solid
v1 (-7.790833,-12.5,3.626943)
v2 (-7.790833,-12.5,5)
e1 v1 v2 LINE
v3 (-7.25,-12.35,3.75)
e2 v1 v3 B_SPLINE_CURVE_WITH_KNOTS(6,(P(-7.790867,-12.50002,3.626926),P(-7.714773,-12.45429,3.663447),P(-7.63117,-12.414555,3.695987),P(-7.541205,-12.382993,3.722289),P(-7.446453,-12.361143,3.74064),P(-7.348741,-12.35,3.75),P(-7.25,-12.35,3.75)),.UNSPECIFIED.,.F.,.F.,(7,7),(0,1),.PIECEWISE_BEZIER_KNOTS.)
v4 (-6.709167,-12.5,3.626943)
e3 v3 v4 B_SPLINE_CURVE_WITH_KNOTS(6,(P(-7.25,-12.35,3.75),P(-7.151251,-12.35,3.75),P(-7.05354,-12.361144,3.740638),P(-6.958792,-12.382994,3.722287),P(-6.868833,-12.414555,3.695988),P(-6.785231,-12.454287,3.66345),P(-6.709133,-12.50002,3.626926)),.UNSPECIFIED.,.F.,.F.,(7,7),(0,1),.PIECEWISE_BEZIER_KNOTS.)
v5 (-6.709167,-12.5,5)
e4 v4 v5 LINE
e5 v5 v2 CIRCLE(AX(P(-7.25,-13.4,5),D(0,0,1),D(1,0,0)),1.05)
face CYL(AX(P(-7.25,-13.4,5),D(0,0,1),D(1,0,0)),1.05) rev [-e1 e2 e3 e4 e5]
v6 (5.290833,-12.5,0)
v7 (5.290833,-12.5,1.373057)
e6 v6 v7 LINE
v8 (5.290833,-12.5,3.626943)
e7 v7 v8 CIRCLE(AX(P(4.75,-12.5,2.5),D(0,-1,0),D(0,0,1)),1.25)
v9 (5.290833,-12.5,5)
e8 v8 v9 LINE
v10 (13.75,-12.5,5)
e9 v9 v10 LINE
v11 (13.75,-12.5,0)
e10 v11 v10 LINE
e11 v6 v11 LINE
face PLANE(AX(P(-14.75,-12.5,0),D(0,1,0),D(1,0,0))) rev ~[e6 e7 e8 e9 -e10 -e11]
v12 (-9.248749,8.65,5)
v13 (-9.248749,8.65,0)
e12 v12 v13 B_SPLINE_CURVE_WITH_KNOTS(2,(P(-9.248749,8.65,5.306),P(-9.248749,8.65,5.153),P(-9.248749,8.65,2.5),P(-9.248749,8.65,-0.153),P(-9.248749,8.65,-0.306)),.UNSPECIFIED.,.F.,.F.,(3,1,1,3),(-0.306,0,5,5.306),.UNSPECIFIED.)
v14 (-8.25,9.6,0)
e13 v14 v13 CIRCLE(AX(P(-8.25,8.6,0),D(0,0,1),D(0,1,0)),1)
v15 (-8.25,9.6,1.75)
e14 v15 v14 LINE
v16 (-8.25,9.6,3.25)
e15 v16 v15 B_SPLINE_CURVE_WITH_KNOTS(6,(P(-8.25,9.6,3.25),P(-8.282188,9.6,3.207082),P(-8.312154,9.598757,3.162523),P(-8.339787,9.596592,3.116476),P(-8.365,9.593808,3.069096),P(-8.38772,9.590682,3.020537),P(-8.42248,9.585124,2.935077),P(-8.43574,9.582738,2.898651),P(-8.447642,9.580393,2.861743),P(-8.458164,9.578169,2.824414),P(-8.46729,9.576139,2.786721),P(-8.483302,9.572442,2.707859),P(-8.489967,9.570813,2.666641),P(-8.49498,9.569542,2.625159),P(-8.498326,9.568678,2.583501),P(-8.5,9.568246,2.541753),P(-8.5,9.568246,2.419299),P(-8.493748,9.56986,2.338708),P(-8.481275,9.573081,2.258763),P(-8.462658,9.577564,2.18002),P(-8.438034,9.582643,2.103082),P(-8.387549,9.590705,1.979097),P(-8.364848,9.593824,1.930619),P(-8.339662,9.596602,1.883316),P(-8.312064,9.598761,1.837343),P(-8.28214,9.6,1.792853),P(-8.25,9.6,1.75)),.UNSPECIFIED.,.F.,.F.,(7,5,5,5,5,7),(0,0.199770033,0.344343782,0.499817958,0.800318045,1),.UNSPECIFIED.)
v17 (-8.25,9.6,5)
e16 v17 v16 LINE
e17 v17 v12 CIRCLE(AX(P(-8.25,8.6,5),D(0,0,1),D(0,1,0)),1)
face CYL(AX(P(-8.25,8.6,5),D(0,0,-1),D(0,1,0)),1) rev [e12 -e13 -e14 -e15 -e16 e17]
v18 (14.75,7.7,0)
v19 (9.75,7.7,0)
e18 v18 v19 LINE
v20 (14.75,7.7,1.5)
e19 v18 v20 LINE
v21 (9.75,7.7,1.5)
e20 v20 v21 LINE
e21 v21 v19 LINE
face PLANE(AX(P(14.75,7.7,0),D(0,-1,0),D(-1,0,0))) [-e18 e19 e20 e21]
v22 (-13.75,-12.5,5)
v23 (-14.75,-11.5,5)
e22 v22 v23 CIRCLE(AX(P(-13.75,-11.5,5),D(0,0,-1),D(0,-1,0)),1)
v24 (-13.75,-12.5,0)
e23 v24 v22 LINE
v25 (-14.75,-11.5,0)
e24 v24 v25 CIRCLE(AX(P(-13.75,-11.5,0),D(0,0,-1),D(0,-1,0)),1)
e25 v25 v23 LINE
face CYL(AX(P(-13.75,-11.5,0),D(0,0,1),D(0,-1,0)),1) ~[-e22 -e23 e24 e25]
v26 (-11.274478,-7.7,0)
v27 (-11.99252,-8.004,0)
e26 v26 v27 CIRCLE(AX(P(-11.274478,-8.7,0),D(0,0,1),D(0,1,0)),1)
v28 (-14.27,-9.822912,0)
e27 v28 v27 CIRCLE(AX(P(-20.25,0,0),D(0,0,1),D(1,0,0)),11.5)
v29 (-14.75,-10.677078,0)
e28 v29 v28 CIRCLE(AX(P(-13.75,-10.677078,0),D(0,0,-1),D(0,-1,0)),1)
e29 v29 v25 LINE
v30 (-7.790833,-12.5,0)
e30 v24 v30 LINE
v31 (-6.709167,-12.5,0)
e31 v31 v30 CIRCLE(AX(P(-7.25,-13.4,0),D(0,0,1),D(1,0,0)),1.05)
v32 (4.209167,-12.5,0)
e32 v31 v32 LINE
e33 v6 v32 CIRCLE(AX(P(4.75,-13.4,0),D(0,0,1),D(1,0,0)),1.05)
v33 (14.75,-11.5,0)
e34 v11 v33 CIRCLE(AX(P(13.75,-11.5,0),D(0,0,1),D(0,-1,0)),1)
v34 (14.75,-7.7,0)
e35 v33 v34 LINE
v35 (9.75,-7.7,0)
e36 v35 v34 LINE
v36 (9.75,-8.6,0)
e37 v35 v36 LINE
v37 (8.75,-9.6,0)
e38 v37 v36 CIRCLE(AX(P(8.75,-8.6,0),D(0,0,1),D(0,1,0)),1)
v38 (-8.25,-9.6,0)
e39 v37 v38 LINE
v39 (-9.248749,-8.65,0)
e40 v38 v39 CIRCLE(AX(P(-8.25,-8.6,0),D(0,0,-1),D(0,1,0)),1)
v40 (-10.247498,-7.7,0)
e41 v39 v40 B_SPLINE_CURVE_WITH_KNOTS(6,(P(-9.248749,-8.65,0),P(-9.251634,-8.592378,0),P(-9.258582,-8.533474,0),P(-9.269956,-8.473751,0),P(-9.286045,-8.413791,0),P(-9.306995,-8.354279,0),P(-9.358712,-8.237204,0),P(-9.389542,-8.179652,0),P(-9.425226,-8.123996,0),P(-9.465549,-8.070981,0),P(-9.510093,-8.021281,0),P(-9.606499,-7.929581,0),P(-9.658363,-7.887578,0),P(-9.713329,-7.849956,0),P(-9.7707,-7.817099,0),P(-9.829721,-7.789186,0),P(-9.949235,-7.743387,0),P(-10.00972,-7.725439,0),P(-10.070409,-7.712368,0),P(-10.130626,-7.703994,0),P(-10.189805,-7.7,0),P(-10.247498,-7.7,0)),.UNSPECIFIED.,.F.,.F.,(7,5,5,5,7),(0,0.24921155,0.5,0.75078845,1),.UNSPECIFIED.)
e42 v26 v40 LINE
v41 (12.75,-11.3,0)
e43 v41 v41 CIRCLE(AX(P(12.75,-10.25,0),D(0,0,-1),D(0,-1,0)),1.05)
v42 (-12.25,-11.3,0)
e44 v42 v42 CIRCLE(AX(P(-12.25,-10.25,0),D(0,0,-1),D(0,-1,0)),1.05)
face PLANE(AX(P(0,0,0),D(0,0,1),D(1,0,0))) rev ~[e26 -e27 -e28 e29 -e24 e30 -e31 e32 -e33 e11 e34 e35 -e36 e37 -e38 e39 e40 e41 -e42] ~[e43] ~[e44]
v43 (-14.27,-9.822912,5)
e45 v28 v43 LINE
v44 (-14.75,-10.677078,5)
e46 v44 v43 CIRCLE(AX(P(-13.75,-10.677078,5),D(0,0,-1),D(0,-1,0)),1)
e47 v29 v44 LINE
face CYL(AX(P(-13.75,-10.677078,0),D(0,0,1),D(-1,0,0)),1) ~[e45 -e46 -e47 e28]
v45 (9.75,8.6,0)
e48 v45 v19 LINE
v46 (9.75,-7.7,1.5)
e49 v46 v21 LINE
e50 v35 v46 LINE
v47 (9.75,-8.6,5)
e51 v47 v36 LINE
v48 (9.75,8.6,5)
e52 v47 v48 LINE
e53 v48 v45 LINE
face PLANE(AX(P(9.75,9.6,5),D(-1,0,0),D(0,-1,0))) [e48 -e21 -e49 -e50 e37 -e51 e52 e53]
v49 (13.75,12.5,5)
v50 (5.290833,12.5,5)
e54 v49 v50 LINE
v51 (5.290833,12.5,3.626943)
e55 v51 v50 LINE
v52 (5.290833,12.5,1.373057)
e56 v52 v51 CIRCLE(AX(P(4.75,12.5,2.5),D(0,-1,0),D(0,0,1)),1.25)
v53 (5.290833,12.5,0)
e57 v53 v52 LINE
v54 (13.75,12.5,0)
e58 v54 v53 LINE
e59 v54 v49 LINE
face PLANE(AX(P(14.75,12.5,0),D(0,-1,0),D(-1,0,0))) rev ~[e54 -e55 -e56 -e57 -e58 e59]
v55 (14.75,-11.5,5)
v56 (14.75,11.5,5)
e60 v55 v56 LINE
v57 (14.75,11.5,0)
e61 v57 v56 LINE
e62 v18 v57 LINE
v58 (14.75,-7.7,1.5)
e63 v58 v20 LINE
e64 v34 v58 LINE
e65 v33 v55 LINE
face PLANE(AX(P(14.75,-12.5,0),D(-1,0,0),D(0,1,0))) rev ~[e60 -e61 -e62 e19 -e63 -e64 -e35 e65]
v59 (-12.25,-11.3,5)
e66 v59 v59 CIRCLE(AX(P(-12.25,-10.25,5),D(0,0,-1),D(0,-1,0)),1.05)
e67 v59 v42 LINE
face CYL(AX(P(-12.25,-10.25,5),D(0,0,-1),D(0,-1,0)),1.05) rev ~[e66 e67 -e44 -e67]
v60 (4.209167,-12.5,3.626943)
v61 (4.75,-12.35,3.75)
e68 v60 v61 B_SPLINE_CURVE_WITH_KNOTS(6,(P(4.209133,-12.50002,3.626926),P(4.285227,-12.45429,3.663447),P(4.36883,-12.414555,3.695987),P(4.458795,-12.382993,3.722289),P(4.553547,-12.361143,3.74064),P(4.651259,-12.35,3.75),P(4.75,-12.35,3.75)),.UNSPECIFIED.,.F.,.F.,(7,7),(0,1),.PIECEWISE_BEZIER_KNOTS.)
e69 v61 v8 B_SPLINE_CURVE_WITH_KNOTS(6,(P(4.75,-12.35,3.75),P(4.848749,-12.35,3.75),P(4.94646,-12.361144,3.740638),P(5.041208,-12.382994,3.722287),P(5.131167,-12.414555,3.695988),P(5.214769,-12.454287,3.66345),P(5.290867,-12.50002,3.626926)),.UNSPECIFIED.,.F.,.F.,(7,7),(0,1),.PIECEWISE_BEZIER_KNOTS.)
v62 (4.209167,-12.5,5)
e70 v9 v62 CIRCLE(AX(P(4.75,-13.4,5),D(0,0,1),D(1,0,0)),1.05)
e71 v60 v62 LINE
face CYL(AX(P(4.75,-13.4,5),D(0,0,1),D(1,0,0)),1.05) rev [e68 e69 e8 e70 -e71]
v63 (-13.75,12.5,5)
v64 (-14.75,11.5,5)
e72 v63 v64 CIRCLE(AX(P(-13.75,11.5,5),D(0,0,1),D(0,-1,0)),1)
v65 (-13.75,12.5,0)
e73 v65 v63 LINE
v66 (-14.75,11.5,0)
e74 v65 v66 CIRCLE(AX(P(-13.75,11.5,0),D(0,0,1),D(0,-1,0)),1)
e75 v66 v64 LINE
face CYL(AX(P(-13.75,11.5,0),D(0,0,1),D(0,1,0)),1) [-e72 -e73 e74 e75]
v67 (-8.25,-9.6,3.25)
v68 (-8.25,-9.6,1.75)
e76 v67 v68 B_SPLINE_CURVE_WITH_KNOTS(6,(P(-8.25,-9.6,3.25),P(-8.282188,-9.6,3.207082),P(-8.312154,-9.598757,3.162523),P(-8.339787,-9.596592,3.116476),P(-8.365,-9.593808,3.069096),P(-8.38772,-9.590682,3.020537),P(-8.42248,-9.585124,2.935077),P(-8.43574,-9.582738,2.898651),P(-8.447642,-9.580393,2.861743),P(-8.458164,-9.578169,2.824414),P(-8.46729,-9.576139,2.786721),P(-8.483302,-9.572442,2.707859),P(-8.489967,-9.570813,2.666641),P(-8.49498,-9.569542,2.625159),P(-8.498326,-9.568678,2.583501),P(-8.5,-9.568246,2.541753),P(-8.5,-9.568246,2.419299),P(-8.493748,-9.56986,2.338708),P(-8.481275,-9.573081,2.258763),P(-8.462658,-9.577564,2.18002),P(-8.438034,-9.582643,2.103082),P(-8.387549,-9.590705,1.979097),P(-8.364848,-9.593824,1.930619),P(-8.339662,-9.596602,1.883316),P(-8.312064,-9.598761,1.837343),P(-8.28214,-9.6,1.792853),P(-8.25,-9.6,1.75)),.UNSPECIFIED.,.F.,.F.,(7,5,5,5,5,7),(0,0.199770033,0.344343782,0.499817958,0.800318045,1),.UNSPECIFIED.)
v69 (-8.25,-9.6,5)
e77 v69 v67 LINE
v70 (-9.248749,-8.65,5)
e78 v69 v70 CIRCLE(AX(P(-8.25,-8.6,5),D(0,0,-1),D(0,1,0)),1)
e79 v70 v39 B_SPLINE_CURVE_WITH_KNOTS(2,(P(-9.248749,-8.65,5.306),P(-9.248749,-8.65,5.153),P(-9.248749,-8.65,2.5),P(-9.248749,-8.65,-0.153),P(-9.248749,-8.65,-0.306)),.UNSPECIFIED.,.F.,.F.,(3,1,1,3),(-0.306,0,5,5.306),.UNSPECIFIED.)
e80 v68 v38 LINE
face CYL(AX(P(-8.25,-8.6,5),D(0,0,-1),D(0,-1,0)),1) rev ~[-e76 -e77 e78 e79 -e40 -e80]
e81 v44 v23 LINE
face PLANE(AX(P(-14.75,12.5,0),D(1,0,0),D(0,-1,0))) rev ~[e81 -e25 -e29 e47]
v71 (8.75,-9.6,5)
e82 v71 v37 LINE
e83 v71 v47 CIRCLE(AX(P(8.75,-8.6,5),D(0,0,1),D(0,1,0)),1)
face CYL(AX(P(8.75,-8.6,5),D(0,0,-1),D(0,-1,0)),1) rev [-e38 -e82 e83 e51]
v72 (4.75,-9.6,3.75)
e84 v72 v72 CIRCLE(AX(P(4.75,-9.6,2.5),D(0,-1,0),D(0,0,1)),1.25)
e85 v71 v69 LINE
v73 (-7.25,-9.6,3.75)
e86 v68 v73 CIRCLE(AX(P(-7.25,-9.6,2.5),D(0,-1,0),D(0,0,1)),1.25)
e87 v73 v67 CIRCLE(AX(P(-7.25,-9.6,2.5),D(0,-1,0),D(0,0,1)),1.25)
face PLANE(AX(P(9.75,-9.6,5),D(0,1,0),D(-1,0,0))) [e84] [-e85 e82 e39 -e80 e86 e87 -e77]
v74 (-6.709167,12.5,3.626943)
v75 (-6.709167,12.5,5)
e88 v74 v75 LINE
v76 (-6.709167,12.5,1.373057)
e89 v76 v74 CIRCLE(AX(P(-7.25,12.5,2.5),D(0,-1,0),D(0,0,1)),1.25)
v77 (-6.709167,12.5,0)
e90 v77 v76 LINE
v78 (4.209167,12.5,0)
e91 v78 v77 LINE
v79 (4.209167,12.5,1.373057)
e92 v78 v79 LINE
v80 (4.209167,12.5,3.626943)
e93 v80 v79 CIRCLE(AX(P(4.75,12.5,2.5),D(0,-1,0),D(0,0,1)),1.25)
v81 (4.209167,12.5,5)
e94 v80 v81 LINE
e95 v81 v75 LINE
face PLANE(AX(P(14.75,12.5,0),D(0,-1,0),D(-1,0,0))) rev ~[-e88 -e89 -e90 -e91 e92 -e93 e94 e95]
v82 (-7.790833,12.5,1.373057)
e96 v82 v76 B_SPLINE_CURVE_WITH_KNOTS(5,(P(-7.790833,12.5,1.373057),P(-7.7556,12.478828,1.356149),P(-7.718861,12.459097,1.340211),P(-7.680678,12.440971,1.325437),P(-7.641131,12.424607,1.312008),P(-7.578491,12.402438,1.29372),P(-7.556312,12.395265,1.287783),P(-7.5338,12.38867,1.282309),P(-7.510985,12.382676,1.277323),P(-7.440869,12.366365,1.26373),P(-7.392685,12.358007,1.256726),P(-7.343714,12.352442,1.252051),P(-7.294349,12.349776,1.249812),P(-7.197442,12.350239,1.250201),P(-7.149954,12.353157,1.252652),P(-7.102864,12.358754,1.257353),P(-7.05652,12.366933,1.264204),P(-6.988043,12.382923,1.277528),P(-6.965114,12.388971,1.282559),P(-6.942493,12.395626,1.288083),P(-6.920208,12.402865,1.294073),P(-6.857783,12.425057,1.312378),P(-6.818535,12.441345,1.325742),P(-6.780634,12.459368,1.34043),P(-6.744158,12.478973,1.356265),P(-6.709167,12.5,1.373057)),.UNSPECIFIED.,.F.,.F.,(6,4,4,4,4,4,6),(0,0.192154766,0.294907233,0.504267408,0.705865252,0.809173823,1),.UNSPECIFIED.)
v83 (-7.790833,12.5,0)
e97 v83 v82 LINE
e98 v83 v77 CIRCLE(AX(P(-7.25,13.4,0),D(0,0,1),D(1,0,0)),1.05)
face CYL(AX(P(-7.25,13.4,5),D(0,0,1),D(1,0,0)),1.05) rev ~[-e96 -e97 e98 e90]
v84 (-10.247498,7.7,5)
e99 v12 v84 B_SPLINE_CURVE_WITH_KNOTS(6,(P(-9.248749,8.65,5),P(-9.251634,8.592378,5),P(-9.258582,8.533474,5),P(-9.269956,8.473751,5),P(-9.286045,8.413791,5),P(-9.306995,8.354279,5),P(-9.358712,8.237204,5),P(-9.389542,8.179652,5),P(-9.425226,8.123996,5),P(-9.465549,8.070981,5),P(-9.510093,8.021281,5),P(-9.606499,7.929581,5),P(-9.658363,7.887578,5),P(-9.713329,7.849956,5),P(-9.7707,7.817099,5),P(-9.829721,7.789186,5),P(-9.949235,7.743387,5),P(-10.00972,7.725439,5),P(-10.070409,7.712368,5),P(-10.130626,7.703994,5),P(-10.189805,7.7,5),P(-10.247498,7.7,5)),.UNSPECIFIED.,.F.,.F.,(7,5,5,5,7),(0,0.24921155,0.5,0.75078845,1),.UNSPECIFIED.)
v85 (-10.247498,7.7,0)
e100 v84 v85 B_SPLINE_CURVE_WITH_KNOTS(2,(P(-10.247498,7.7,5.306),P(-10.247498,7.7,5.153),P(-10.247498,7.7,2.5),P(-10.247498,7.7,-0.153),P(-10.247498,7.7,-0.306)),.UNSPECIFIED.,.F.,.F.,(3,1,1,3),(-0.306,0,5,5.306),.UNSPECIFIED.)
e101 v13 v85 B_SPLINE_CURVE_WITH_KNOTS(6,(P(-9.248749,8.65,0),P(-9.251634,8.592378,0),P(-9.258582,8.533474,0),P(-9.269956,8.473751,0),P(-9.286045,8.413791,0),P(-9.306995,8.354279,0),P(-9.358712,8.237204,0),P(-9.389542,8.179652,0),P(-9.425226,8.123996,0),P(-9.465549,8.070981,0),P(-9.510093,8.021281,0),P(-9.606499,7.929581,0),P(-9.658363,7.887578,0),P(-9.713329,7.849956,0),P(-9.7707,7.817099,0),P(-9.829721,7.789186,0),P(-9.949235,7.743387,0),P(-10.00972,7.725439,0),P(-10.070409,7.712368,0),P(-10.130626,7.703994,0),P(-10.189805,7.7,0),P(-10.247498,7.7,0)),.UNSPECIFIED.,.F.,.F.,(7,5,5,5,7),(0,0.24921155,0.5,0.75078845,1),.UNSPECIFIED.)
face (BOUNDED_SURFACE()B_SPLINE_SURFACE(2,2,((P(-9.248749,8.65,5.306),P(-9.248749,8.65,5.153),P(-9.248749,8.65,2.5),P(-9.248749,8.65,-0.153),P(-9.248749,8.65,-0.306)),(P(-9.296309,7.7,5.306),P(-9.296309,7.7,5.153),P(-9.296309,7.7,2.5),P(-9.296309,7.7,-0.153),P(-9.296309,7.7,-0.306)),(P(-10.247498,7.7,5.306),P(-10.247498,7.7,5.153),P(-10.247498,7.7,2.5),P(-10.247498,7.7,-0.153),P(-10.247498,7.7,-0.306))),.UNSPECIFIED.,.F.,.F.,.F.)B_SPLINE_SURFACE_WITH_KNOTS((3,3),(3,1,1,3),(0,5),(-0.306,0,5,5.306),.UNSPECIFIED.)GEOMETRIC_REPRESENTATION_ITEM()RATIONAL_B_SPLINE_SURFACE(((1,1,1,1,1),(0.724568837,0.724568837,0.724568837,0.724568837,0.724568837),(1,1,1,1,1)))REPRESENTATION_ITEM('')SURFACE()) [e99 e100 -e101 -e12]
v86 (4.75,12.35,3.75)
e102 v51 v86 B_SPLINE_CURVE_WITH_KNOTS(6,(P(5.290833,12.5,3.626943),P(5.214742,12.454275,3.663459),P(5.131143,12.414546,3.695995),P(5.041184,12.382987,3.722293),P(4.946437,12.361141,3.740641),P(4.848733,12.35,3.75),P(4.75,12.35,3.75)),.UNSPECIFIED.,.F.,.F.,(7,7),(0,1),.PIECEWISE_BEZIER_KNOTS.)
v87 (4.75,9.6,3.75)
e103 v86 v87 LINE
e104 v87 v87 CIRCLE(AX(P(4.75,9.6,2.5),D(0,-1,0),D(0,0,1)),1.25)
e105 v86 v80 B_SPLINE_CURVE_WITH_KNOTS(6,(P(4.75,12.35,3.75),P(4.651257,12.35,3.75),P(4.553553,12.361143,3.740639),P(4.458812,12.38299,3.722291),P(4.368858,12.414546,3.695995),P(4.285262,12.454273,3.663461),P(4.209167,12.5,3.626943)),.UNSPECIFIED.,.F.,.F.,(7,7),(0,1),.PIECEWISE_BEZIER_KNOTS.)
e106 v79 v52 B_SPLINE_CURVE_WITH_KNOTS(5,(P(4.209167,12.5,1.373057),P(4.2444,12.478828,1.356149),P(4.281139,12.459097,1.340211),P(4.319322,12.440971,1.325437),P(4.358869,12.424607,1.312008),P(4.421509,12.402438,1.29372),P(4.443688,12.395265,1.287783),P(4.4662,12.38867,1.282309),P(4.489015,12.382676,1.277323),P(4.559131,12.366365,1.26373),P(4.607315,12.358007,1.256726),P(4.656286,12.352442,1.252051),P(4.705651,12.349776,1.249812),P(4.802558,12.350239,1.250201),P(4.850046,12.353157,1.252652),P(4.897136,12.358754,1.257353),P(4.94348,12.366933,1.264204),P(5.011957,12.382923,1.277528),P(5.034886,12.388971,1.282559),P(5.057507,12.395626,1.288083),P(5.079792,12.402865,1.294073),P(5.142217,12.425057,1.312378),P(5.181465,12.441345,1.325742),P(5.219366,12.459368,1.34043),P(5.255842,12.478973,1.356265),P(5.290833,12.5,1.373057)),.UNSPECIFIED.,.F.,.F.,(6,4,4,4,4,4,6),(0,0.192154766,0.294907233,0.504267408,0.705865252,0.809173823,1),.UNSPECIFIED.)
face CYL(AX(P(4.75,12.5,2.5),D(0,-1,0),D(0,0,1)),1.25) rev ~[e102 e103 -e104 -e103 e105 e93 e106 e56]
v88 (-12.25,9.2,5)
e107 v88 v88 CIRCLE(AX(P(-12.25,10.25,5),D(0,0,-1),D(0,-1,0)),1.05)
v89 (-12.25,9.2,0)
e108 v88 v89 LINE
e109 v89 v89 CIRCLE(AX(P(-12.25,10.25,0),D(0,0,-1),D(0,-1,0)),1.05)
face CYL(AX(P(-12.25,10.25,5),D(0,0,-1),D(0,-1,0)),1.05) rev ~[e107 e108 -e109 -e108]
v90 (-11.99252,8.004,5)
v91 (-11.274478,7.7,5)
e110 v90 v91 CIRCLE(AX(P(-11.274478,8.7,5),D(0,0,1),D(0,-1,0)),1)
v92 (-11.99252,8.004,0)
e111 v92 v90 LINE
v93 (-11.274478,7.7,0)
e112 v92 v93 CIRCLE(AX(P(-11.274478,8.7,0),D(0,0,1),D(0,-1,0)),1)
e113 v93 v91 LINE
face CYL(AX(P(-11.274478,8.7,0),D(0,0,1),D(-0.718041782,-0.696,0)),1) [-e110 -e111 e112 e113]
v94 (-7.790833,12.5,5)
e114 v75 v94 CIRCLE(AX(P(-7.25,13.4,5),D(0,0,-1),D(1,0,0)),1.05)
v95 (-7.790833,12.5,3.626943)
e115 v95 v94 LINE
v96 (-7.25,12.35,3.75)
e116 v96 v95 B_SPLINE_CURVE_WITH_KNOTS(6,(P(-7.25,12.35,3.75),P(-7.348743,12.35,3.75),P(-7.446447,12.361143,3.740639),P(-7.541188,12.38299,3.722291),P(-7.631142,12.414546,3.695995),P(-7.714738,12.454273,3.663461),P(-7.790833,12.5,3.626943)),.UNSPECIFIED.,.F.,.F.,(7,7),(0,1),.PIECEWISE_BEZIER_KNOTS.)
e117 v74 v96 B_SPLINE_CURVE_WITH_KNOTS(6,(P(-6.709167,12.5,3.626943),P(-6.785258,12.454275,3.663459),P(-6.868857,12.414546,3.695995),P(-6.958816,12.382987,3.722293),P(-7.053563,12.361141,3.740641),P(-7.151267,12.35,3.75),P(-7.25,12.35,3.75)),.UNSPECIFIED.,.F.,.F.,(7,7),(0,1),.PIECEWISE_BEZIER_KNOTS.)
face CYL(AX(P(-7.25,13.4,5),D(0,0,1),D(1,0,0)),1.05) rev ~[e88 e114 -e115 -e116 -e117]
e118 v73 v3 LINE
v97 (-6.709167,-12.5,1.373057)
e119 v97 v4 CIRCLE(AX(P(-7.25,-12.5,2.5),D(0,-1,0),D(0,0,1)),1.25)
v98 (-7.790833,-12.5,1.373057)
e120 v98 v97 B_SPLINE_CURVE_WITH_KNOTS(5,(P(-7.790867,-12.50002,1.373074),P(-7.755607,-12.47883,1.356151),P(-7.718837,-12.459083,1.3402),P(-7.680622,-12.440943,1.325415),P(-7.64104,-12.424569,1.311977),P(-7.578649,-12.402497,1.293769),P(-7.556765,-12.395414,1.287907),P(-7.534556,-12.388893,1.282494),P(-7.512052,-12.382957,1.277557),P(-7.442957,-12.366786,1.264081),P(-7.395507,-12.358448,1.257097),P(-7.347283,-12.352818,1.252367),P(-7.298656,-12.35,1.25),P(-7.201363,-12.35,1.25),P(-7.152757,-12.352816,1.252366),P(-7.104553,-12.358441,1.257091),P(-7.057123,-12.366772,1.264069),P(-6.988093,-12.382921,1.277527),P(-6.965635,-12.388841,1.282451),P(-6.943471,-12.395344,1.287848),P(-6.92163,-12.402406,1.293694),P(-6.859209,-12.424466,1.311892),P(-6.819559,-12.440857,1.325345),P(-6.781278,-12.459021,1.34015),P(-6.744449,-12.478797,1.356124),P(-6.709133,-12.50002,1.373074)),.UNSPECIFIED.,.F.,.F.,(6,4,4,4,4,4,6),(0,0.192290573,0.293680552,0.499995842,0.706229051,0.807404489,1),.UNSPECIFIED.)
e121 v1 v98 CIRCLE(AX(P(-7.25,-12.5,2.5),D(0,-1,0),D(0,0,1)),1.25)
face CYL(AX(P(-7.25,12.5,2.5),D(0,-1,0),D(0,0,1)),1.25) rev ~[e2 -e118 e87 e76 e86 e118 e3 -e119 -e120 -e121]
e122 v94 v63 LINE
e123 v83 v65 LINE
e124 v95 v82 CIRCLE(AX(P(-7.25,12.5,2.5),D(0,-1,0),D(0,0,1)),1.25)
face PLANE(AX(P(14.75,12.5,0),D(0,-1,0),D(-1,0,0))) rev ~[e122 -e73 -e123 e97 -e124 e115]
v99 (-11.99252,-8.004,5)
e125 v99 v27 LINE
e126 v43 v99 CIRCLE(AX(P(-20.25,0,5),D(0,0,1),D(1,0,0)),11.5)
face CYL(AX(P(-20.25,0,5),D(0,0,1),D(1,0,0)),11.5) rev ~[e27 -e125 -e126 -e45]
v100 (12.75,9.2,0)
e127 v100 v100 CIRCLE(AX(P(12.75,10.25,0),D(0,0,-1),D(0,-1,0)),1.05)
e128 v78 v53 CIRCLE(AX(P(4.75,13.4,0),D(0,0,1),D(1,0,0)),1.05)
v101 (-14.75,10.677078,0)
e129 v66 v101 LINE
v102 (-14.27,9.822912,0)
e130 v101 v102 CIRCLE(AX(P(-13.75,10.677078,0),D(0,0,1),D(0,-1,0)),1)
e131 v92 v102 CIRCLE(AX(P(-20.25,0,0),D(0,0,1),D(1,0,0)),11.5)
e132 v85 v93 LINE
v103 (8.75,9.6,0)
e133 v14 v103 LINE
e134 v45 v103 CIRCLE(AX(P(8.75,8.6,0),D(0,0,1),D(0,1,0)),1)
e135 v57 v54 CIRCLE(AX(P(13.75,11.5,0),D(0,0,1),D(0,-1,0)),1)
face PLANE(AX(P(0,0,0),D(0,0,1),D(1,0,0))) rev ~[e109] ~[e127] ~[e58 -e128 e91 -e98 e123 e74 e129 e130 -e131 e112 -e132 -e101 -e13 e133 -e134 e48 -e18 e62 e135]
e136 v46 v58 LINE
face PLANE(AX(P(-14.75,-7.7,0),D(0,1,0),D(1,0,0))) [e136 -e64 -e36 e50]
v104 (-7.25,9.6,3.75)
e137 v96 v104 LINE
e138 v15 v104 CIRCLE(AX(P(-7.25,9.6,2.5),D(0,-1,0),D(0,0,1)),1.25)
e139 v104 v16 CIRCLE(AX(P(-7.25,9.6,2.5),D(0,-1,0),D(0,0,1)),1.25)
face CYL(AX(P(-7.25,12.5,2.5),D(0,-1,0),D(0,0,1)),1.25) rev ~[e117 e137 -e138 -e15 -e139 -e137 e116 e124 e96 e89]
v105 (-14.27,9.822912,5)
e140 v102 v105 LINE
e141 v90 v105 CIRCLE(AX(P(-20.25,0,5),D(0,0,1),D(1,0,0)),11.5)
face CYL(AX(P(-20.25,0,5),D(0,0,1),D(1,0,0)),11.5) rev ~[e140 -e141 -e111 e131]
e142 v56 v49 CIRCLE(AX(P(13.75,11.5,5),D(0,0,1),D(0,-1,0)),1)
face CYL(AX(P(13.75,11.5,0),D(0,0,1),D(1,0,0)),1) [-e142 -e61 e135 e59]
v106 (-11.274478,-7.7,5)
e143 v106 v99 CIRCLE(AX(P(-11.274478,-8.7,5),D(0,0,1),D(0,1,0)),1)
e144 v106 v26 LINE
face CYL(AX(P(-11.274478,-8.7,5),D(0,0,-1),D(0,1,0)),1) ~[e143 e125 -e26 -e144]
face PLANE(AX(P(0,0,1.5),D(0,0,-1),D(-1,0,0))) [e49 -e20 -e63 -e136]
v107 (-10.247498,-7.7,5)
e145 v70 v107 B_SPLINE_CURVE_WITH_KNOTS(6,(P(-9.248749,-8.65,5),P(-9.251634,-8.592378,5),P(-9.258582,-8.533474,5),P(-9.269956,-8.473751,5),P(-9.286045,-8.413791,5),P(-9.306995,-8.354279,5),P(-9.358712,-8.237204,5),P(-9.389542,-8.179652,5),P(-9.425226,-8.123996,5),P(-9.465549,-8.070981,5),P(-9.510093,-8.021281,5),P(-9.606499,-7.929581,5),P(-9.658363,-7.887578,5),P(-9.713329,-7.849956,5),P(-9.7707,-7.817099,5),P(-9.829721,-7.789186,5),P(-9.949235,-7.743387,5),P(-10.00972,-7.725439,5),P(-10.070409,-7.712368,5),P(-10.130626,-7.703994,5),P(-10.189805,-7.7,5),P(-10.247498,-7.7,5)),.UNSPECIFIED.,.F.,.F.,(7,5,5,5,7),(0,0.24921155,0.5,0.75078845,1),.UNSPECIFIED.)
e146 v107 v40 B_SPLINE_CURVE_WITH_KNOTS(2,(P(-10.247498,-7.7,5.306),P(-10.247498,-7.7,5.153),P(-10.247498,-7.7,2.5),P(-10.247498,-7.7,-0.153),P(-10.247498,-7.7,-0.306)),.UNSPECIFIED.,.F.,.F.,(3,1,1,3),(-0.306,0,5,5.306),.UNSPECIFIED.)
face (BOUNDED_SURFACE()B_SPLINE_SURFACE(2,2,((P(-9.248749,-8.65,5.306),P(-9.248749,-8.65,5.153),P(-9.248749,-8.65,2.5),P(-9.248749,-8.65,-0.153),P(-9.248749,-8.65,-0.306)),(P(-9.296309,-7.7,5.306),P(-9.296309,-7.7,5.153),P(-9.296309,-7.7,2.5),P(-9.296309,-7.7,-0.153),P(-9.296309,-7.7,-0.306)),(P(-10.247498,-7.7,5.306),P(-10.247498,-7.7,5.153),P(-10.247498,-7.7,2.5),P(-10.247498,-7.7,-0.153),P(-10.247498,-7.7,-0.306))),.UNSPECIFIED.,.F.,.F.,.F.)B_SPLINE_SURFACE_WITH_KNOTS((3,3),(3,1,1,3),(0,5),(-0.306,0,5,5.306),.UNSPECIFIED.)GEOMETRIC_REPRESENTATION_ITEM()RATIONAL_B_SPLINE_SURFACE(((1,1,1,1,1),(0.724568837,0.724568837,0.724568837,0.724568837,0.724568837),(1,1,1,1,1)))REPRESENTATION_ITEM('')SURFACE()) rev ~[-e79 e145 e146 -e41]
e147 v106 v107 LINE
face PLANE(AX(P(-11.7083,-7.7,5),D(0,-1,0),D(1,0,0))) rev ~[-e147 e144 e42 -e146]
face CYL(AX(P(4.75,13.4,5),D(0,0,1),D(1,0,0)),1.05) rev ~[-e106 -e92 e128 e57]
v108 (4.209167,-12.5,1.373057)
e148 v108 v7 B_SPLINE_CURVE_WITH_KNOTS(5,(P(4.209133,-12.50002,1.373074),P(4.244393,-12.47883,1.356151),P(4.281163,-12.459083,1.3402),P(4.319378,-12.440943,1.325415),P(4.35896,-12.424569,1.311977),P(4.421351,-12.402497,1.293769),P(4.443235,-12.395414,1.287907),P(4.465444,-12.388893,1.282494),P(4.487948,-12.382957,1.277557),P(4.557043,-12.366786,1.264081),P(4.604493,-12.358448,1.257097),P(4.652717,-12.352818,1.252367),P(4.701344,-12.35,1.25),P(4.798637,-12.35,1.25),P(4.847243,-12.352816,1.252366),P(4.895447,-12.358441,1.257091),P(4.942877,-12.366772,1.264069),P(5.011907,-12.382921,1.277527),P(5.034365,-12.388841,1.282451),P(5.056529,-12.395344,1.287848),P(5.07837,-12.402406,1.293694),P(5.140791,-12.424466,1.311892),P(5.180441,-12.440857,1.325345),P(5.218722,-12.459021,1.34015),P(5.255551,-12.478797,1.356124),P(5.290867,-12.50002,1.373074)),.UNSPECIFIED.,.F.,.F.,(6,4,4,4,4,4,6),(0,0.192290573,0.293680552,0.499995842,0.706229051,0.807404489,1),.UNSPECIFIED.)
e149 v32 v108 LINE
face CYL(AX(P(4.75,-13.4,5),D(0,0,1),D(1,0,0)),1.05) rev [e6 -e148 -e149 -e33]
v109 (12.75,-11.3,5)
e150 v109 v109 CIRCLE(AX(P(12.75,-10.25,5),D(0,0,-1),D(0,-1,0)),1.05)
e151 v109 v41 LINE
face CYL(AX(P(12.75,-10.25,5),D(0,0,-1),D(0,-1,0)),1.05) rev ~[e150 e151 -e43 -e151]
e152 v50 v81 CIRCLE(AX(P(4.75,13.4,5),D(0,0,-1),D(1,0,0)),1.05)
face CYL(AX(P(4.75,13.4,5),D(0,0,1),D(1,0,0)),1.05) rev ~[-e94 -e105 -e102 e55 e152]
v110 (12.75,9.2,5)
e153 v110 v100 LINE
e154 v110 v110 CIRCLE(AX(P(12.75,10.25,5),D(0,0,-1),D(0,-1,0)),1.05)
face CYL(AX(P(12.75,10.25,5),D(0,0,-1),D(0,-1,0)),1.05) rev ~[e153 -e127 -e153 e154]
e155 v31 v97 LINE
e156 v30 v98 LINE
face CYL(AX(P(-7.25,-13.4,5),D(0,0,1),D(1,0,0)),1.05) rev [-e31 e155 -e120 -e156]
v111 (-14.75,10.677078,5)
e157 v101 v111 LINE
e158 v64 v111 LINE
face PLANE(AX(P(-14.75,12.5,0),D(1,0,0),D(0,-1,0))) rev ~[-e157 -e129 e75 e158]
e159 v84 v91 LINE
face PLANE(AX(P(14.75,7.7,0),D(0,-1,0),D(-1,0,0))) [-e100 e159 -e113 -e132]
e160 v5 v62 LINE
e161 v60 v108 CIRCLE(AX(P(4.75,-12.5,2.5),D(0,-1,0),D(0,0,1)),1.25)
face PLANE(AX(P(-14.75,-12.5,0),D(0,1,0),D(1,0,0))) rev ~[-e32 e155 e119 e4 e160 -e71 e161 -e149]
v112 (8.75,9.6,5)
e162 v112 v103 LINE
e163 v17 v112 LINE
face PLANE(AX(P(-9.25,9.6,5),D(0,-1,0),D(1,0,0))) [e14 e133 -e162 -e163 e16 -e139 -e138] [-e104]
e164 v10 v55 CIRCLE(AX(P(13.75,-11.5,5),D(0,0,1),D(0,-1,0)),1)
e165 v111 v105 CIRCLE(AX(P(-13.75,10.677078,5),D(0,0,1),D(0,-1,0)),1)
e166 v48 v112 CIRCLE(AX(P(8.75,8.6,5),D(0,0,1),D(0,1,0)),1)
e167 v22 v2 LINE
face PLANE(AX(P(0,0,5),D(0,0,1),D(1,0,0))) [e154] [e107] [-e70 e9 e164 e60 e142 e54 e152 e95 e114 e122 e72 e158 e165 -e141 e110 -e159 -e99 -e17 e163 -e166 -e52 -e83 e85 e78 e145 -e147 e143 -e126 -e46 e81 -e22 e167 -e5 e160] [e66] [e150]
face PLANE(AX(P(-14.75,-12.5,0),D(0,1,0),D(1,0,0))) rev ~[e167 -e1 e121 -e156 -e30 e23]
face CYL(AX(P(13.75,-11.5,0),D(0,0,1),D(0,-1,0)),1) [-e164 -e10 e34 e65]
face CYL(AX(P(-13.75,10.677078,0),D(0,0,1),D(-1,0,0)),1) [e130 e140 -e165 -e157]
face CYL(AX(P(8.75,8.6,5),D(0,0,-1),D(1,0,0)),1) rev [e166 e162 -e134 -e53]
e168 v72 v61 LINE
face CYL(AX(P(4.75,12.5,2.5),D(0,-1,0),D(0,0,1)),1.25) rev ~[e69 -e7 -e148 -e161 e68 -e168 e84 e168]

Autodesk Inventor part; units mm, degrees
ref_plane "YZ Plane" through (0, 0, 0) normal (1, 0, 0) x (0, 1, 0)
ref_plane "XZ Plane" through (0, 0, 0) normal (0, 1, 0) x (-1, 0, 0)
ref_plane "XY Plane" through (0, 0, 0) normal (0, 0, 1) x (1, 0, 0)
sketch "スケッチ1" plane through (0, 0, 0) normal (0, 0, 1) x (1, 0, 0)
  line L0 (-14.75, -12.5) -> (14.75, -12.5)
  line L1 (14.75, -12.5) -> (14.75, 12.5)
  line L2 (14.75, 12.5) -> (-14.75, 12.5)
  line L3 (-14.75, 12.5) -> (-14.75, -12.5)
  line L4 (-14.75, -12.5) -> (14.75, 12.5) construction
  line L5 (14.75, -12.5) -> (-14.75, 12.5) construction
  point P0 (0, 0)
  dimension "d0" = 29.5
  dimension "d1" = 25
extrude "プレート1" add sketch "スケッチ1" along normal blind 5
sketch "スケッチ2" plane through (0, 0, 5) normal (0, 0, 1) x (1, 0, 0)
  line L0 (-12.25, -10.25) -> (12.75, -10.25) construction
  line L1 (12.75, -10.25) -> (12.75, 10.25) construction
  line L2 (12.75, 10.25) -> (-12.25, 10.25) construction
  line L3 (-12.25, 10.25) -> (-12.25, -10.25) construction
  line L4 (-12.25, -10.25) -> (12.75, 10.25) construction
  line L5 (12.75, -10.25) -> (-12.25, 10.25) construction
  line L6 (14.75, 12.5) -> (14.75, -12.5) construction
  point P0 (0, 0)
  point P1 (0.25, 0)
  dimension "d3" = 25
  dimension "d4" = 20.5
  dimension "d5" = 2
hole "穴1" at (-12.25, 10.25, 5) at (12.75, 10.25, 5) at (12.75, -10.25, 5) at (-12.25, -10.25, 5) direction (0, 0, -1) diameter 2.1 end through all
sketch "スケッチ3" plane through (0, 0, 0) normal (0, 0, -1) x (-1, 0, 0)
  line L0 (-14.75, -12.5) -> (-14.75, 12.5) projected
  line L1 (14.75, 12.5) -> (14.75, -12.5) projected
  line L2 (-14.75, 7.7) -> (14.75, 7.7)
  line L3 (14.75, -7.7) -> (-14.75, -7.7)
  line L4 (-14.75, 12.5) -> (14.75, 12.5) projected
  line L5 (14.75, -12.5) -> (-14.75, -12.5) projected
  point P0 (0, 0)
  dimension "d13" = 4.8
  dimension "d14" = 4.8
extrude "押し出し1" cut sketch "スケッチ3" against normal blind 1.5 contours L0 L2 L1 L3
sketch "スケッチ4" plane through (0, 0, 5) normal (0, 0, 1) x (1, 0, 0)
  line L0 (-14.75, 12.5) -> (14.75, 12.5) projected
  line L1 (14.75, -12.5) -> (-14.75, -12.5) projected
  circle A0 centre (-20.25, 0) radius 11.5
  line L2 (14.75, 12.5) -> (14.75, -12.5) projected
  line L3 (9.75, -9.6) -> (-9.25, -9.6)
  line L4 (-9.25, -9.6) -> (-9.25, 9.6)
  line L5 (-9.25, 9.6) -> (9.75, 9.6)
  line L6 (9.75, 9.6) -> (9.75, -9.6)
  line L7 (9.75, -9.6) -> (-9.25, 9.6) construction
  line L8 (-9.25, -9.6) -> (9.75, 9.6) construction
  line L9 (-9.25, 7.7) -> (-11.7083, 7.7)
  line L10 (-11.7083, 7.7) -> (-11.7083, -7.7)
  line L11 (-11.7083, -7.7) -> (-9.25, -7.7)
  line L12 (-9.25, -7.7) -> (-9.25, 7.7)
  line L13 (14.75, 7.7) -> (-14.75, 7.7) projected
  point P0 (0, 0)
  point P1 (14.75, 0)
  point P2 (0.25, 0)
  point P3 (-9.25, 0)
  point P4 (-11.7083, 7.7)
  dimension "d18" = 23
  dimension "d17" = 35
  dimension "d19" = 5
  dimension "d20" = 2.9
  dimension "d22" = 19
extrude "押し出し2" cut sketch "スケッチ4" against normal through all
fillet "フィレット1" radius 1 14 edges at (-9.25, 9.6, 2.5) (-9.25, -9.6, 2.5) (9.75, -9.6, 2.5) (9.75, 9.6, 2.5) (-9.25, 7.7, 2.5) (-9.25, -7.7, 2.5) (-11.7083, -7.7, 2.5) (-11.7083, 7.7, 2.5) (-14.75, -10.0995, 2.5) (-14.75, 10.0995, 2.5) (-14.75, -12.5, 2.5) (14.75, -12.5, 2.5) (14.75, 12.5, 2.5) (-14.75, 12.5, 2.5)
sketch "スケッチ5" plane through (0, 0, 5) normal (0, 0, 1) x (1, 0, 0)
  line L0 (-13.75, 12.5) -> (13.75, 12.5) projected
  circle A0 centre (-7.25, 13.4) radius 1.05
  circle A1 centre (4.75, 13.4) radius 1.05
  line L1 (14.75, 11.5) -> (14.75, -11.5) projected
  point P0 (0, 0)
  dimension "d26" = 2.1
  dimension "d27" = 2.1
  dimension "d28" = 0.9
  dimension "d29" = 0.9
  dimension "d30" = 12
  dimension "d31" = 10
extrude "押し出し3" cut sketch "スケッチ5" against normal through all
sketch "スケッチ6" plane through (-6.7092, 12.5, 0) normal (0, 1, 0) x (1, 0, 0)
  line L0 (-1.0817, -5) -> (-1.0817, 0) projected
  line L1 (0, -5) -> (-1.0817, -5) projected
  line L2 (0, 0) -> (0, -5) projected
  line L3 (-1.0817, 0) -> (0, 0) projected
  line L4 (10.9183, -5) -> (10.9183, 0) projected
  line L5 (12, -5) -> (10.9183, -5) projected
  line L6 (12, 0) -> (12, -5) projected
  line L7 (10.9183, 0) -> (12, 0) projected
  line L8 (-1.5408, -5) -> (-1.5408, 0) construction
  line L9 (-1.5408, 0) -> (-1.5408, -5) construction
  line L10 (-1.0817, -2.5) -> (0, -2.5) construction
  line L11 (10.9183, -2.5) -> (12, -2.5) construction
  line L12 (11.4592, -5) -> (11.4592, 0) construction
  point P0 (6.7092, 0)
  point P1 (-0.5408, -2.5)
  point P2 (11.4592, -2.5)
hole "穴2" at (-7.25, 12.5, 2.5) at (4.75, 12.5, 2.5) direction (0, -1, 0) diameter 2.5 end through all
mirror "ミラー1" about plane through (0, 0, 0) normal (0, 1, 0) of "穴2", "押し出し3"
equation "\"d11\" = Thickness"
equation "\"d14\" = d13"
equation "\"d29\" = d28"
equation "\"d2\" = Thickness"
equation "\"BendRadius\" = Thickness"
equation "\"BendReliefWidth\" = Thickness"
equation "\"BendReliefDepth\" = 0.5 * Thickness"
equation "\"TransitionRadius\" = BendRadius"
equation "\"JacobiRadiusSize\" = BendRadius"
equation "\"GapSize\" = Thickness"
equation "\"Thickness\" = 5"
properties part number "T3.0_servo-mount_3D プリント"
